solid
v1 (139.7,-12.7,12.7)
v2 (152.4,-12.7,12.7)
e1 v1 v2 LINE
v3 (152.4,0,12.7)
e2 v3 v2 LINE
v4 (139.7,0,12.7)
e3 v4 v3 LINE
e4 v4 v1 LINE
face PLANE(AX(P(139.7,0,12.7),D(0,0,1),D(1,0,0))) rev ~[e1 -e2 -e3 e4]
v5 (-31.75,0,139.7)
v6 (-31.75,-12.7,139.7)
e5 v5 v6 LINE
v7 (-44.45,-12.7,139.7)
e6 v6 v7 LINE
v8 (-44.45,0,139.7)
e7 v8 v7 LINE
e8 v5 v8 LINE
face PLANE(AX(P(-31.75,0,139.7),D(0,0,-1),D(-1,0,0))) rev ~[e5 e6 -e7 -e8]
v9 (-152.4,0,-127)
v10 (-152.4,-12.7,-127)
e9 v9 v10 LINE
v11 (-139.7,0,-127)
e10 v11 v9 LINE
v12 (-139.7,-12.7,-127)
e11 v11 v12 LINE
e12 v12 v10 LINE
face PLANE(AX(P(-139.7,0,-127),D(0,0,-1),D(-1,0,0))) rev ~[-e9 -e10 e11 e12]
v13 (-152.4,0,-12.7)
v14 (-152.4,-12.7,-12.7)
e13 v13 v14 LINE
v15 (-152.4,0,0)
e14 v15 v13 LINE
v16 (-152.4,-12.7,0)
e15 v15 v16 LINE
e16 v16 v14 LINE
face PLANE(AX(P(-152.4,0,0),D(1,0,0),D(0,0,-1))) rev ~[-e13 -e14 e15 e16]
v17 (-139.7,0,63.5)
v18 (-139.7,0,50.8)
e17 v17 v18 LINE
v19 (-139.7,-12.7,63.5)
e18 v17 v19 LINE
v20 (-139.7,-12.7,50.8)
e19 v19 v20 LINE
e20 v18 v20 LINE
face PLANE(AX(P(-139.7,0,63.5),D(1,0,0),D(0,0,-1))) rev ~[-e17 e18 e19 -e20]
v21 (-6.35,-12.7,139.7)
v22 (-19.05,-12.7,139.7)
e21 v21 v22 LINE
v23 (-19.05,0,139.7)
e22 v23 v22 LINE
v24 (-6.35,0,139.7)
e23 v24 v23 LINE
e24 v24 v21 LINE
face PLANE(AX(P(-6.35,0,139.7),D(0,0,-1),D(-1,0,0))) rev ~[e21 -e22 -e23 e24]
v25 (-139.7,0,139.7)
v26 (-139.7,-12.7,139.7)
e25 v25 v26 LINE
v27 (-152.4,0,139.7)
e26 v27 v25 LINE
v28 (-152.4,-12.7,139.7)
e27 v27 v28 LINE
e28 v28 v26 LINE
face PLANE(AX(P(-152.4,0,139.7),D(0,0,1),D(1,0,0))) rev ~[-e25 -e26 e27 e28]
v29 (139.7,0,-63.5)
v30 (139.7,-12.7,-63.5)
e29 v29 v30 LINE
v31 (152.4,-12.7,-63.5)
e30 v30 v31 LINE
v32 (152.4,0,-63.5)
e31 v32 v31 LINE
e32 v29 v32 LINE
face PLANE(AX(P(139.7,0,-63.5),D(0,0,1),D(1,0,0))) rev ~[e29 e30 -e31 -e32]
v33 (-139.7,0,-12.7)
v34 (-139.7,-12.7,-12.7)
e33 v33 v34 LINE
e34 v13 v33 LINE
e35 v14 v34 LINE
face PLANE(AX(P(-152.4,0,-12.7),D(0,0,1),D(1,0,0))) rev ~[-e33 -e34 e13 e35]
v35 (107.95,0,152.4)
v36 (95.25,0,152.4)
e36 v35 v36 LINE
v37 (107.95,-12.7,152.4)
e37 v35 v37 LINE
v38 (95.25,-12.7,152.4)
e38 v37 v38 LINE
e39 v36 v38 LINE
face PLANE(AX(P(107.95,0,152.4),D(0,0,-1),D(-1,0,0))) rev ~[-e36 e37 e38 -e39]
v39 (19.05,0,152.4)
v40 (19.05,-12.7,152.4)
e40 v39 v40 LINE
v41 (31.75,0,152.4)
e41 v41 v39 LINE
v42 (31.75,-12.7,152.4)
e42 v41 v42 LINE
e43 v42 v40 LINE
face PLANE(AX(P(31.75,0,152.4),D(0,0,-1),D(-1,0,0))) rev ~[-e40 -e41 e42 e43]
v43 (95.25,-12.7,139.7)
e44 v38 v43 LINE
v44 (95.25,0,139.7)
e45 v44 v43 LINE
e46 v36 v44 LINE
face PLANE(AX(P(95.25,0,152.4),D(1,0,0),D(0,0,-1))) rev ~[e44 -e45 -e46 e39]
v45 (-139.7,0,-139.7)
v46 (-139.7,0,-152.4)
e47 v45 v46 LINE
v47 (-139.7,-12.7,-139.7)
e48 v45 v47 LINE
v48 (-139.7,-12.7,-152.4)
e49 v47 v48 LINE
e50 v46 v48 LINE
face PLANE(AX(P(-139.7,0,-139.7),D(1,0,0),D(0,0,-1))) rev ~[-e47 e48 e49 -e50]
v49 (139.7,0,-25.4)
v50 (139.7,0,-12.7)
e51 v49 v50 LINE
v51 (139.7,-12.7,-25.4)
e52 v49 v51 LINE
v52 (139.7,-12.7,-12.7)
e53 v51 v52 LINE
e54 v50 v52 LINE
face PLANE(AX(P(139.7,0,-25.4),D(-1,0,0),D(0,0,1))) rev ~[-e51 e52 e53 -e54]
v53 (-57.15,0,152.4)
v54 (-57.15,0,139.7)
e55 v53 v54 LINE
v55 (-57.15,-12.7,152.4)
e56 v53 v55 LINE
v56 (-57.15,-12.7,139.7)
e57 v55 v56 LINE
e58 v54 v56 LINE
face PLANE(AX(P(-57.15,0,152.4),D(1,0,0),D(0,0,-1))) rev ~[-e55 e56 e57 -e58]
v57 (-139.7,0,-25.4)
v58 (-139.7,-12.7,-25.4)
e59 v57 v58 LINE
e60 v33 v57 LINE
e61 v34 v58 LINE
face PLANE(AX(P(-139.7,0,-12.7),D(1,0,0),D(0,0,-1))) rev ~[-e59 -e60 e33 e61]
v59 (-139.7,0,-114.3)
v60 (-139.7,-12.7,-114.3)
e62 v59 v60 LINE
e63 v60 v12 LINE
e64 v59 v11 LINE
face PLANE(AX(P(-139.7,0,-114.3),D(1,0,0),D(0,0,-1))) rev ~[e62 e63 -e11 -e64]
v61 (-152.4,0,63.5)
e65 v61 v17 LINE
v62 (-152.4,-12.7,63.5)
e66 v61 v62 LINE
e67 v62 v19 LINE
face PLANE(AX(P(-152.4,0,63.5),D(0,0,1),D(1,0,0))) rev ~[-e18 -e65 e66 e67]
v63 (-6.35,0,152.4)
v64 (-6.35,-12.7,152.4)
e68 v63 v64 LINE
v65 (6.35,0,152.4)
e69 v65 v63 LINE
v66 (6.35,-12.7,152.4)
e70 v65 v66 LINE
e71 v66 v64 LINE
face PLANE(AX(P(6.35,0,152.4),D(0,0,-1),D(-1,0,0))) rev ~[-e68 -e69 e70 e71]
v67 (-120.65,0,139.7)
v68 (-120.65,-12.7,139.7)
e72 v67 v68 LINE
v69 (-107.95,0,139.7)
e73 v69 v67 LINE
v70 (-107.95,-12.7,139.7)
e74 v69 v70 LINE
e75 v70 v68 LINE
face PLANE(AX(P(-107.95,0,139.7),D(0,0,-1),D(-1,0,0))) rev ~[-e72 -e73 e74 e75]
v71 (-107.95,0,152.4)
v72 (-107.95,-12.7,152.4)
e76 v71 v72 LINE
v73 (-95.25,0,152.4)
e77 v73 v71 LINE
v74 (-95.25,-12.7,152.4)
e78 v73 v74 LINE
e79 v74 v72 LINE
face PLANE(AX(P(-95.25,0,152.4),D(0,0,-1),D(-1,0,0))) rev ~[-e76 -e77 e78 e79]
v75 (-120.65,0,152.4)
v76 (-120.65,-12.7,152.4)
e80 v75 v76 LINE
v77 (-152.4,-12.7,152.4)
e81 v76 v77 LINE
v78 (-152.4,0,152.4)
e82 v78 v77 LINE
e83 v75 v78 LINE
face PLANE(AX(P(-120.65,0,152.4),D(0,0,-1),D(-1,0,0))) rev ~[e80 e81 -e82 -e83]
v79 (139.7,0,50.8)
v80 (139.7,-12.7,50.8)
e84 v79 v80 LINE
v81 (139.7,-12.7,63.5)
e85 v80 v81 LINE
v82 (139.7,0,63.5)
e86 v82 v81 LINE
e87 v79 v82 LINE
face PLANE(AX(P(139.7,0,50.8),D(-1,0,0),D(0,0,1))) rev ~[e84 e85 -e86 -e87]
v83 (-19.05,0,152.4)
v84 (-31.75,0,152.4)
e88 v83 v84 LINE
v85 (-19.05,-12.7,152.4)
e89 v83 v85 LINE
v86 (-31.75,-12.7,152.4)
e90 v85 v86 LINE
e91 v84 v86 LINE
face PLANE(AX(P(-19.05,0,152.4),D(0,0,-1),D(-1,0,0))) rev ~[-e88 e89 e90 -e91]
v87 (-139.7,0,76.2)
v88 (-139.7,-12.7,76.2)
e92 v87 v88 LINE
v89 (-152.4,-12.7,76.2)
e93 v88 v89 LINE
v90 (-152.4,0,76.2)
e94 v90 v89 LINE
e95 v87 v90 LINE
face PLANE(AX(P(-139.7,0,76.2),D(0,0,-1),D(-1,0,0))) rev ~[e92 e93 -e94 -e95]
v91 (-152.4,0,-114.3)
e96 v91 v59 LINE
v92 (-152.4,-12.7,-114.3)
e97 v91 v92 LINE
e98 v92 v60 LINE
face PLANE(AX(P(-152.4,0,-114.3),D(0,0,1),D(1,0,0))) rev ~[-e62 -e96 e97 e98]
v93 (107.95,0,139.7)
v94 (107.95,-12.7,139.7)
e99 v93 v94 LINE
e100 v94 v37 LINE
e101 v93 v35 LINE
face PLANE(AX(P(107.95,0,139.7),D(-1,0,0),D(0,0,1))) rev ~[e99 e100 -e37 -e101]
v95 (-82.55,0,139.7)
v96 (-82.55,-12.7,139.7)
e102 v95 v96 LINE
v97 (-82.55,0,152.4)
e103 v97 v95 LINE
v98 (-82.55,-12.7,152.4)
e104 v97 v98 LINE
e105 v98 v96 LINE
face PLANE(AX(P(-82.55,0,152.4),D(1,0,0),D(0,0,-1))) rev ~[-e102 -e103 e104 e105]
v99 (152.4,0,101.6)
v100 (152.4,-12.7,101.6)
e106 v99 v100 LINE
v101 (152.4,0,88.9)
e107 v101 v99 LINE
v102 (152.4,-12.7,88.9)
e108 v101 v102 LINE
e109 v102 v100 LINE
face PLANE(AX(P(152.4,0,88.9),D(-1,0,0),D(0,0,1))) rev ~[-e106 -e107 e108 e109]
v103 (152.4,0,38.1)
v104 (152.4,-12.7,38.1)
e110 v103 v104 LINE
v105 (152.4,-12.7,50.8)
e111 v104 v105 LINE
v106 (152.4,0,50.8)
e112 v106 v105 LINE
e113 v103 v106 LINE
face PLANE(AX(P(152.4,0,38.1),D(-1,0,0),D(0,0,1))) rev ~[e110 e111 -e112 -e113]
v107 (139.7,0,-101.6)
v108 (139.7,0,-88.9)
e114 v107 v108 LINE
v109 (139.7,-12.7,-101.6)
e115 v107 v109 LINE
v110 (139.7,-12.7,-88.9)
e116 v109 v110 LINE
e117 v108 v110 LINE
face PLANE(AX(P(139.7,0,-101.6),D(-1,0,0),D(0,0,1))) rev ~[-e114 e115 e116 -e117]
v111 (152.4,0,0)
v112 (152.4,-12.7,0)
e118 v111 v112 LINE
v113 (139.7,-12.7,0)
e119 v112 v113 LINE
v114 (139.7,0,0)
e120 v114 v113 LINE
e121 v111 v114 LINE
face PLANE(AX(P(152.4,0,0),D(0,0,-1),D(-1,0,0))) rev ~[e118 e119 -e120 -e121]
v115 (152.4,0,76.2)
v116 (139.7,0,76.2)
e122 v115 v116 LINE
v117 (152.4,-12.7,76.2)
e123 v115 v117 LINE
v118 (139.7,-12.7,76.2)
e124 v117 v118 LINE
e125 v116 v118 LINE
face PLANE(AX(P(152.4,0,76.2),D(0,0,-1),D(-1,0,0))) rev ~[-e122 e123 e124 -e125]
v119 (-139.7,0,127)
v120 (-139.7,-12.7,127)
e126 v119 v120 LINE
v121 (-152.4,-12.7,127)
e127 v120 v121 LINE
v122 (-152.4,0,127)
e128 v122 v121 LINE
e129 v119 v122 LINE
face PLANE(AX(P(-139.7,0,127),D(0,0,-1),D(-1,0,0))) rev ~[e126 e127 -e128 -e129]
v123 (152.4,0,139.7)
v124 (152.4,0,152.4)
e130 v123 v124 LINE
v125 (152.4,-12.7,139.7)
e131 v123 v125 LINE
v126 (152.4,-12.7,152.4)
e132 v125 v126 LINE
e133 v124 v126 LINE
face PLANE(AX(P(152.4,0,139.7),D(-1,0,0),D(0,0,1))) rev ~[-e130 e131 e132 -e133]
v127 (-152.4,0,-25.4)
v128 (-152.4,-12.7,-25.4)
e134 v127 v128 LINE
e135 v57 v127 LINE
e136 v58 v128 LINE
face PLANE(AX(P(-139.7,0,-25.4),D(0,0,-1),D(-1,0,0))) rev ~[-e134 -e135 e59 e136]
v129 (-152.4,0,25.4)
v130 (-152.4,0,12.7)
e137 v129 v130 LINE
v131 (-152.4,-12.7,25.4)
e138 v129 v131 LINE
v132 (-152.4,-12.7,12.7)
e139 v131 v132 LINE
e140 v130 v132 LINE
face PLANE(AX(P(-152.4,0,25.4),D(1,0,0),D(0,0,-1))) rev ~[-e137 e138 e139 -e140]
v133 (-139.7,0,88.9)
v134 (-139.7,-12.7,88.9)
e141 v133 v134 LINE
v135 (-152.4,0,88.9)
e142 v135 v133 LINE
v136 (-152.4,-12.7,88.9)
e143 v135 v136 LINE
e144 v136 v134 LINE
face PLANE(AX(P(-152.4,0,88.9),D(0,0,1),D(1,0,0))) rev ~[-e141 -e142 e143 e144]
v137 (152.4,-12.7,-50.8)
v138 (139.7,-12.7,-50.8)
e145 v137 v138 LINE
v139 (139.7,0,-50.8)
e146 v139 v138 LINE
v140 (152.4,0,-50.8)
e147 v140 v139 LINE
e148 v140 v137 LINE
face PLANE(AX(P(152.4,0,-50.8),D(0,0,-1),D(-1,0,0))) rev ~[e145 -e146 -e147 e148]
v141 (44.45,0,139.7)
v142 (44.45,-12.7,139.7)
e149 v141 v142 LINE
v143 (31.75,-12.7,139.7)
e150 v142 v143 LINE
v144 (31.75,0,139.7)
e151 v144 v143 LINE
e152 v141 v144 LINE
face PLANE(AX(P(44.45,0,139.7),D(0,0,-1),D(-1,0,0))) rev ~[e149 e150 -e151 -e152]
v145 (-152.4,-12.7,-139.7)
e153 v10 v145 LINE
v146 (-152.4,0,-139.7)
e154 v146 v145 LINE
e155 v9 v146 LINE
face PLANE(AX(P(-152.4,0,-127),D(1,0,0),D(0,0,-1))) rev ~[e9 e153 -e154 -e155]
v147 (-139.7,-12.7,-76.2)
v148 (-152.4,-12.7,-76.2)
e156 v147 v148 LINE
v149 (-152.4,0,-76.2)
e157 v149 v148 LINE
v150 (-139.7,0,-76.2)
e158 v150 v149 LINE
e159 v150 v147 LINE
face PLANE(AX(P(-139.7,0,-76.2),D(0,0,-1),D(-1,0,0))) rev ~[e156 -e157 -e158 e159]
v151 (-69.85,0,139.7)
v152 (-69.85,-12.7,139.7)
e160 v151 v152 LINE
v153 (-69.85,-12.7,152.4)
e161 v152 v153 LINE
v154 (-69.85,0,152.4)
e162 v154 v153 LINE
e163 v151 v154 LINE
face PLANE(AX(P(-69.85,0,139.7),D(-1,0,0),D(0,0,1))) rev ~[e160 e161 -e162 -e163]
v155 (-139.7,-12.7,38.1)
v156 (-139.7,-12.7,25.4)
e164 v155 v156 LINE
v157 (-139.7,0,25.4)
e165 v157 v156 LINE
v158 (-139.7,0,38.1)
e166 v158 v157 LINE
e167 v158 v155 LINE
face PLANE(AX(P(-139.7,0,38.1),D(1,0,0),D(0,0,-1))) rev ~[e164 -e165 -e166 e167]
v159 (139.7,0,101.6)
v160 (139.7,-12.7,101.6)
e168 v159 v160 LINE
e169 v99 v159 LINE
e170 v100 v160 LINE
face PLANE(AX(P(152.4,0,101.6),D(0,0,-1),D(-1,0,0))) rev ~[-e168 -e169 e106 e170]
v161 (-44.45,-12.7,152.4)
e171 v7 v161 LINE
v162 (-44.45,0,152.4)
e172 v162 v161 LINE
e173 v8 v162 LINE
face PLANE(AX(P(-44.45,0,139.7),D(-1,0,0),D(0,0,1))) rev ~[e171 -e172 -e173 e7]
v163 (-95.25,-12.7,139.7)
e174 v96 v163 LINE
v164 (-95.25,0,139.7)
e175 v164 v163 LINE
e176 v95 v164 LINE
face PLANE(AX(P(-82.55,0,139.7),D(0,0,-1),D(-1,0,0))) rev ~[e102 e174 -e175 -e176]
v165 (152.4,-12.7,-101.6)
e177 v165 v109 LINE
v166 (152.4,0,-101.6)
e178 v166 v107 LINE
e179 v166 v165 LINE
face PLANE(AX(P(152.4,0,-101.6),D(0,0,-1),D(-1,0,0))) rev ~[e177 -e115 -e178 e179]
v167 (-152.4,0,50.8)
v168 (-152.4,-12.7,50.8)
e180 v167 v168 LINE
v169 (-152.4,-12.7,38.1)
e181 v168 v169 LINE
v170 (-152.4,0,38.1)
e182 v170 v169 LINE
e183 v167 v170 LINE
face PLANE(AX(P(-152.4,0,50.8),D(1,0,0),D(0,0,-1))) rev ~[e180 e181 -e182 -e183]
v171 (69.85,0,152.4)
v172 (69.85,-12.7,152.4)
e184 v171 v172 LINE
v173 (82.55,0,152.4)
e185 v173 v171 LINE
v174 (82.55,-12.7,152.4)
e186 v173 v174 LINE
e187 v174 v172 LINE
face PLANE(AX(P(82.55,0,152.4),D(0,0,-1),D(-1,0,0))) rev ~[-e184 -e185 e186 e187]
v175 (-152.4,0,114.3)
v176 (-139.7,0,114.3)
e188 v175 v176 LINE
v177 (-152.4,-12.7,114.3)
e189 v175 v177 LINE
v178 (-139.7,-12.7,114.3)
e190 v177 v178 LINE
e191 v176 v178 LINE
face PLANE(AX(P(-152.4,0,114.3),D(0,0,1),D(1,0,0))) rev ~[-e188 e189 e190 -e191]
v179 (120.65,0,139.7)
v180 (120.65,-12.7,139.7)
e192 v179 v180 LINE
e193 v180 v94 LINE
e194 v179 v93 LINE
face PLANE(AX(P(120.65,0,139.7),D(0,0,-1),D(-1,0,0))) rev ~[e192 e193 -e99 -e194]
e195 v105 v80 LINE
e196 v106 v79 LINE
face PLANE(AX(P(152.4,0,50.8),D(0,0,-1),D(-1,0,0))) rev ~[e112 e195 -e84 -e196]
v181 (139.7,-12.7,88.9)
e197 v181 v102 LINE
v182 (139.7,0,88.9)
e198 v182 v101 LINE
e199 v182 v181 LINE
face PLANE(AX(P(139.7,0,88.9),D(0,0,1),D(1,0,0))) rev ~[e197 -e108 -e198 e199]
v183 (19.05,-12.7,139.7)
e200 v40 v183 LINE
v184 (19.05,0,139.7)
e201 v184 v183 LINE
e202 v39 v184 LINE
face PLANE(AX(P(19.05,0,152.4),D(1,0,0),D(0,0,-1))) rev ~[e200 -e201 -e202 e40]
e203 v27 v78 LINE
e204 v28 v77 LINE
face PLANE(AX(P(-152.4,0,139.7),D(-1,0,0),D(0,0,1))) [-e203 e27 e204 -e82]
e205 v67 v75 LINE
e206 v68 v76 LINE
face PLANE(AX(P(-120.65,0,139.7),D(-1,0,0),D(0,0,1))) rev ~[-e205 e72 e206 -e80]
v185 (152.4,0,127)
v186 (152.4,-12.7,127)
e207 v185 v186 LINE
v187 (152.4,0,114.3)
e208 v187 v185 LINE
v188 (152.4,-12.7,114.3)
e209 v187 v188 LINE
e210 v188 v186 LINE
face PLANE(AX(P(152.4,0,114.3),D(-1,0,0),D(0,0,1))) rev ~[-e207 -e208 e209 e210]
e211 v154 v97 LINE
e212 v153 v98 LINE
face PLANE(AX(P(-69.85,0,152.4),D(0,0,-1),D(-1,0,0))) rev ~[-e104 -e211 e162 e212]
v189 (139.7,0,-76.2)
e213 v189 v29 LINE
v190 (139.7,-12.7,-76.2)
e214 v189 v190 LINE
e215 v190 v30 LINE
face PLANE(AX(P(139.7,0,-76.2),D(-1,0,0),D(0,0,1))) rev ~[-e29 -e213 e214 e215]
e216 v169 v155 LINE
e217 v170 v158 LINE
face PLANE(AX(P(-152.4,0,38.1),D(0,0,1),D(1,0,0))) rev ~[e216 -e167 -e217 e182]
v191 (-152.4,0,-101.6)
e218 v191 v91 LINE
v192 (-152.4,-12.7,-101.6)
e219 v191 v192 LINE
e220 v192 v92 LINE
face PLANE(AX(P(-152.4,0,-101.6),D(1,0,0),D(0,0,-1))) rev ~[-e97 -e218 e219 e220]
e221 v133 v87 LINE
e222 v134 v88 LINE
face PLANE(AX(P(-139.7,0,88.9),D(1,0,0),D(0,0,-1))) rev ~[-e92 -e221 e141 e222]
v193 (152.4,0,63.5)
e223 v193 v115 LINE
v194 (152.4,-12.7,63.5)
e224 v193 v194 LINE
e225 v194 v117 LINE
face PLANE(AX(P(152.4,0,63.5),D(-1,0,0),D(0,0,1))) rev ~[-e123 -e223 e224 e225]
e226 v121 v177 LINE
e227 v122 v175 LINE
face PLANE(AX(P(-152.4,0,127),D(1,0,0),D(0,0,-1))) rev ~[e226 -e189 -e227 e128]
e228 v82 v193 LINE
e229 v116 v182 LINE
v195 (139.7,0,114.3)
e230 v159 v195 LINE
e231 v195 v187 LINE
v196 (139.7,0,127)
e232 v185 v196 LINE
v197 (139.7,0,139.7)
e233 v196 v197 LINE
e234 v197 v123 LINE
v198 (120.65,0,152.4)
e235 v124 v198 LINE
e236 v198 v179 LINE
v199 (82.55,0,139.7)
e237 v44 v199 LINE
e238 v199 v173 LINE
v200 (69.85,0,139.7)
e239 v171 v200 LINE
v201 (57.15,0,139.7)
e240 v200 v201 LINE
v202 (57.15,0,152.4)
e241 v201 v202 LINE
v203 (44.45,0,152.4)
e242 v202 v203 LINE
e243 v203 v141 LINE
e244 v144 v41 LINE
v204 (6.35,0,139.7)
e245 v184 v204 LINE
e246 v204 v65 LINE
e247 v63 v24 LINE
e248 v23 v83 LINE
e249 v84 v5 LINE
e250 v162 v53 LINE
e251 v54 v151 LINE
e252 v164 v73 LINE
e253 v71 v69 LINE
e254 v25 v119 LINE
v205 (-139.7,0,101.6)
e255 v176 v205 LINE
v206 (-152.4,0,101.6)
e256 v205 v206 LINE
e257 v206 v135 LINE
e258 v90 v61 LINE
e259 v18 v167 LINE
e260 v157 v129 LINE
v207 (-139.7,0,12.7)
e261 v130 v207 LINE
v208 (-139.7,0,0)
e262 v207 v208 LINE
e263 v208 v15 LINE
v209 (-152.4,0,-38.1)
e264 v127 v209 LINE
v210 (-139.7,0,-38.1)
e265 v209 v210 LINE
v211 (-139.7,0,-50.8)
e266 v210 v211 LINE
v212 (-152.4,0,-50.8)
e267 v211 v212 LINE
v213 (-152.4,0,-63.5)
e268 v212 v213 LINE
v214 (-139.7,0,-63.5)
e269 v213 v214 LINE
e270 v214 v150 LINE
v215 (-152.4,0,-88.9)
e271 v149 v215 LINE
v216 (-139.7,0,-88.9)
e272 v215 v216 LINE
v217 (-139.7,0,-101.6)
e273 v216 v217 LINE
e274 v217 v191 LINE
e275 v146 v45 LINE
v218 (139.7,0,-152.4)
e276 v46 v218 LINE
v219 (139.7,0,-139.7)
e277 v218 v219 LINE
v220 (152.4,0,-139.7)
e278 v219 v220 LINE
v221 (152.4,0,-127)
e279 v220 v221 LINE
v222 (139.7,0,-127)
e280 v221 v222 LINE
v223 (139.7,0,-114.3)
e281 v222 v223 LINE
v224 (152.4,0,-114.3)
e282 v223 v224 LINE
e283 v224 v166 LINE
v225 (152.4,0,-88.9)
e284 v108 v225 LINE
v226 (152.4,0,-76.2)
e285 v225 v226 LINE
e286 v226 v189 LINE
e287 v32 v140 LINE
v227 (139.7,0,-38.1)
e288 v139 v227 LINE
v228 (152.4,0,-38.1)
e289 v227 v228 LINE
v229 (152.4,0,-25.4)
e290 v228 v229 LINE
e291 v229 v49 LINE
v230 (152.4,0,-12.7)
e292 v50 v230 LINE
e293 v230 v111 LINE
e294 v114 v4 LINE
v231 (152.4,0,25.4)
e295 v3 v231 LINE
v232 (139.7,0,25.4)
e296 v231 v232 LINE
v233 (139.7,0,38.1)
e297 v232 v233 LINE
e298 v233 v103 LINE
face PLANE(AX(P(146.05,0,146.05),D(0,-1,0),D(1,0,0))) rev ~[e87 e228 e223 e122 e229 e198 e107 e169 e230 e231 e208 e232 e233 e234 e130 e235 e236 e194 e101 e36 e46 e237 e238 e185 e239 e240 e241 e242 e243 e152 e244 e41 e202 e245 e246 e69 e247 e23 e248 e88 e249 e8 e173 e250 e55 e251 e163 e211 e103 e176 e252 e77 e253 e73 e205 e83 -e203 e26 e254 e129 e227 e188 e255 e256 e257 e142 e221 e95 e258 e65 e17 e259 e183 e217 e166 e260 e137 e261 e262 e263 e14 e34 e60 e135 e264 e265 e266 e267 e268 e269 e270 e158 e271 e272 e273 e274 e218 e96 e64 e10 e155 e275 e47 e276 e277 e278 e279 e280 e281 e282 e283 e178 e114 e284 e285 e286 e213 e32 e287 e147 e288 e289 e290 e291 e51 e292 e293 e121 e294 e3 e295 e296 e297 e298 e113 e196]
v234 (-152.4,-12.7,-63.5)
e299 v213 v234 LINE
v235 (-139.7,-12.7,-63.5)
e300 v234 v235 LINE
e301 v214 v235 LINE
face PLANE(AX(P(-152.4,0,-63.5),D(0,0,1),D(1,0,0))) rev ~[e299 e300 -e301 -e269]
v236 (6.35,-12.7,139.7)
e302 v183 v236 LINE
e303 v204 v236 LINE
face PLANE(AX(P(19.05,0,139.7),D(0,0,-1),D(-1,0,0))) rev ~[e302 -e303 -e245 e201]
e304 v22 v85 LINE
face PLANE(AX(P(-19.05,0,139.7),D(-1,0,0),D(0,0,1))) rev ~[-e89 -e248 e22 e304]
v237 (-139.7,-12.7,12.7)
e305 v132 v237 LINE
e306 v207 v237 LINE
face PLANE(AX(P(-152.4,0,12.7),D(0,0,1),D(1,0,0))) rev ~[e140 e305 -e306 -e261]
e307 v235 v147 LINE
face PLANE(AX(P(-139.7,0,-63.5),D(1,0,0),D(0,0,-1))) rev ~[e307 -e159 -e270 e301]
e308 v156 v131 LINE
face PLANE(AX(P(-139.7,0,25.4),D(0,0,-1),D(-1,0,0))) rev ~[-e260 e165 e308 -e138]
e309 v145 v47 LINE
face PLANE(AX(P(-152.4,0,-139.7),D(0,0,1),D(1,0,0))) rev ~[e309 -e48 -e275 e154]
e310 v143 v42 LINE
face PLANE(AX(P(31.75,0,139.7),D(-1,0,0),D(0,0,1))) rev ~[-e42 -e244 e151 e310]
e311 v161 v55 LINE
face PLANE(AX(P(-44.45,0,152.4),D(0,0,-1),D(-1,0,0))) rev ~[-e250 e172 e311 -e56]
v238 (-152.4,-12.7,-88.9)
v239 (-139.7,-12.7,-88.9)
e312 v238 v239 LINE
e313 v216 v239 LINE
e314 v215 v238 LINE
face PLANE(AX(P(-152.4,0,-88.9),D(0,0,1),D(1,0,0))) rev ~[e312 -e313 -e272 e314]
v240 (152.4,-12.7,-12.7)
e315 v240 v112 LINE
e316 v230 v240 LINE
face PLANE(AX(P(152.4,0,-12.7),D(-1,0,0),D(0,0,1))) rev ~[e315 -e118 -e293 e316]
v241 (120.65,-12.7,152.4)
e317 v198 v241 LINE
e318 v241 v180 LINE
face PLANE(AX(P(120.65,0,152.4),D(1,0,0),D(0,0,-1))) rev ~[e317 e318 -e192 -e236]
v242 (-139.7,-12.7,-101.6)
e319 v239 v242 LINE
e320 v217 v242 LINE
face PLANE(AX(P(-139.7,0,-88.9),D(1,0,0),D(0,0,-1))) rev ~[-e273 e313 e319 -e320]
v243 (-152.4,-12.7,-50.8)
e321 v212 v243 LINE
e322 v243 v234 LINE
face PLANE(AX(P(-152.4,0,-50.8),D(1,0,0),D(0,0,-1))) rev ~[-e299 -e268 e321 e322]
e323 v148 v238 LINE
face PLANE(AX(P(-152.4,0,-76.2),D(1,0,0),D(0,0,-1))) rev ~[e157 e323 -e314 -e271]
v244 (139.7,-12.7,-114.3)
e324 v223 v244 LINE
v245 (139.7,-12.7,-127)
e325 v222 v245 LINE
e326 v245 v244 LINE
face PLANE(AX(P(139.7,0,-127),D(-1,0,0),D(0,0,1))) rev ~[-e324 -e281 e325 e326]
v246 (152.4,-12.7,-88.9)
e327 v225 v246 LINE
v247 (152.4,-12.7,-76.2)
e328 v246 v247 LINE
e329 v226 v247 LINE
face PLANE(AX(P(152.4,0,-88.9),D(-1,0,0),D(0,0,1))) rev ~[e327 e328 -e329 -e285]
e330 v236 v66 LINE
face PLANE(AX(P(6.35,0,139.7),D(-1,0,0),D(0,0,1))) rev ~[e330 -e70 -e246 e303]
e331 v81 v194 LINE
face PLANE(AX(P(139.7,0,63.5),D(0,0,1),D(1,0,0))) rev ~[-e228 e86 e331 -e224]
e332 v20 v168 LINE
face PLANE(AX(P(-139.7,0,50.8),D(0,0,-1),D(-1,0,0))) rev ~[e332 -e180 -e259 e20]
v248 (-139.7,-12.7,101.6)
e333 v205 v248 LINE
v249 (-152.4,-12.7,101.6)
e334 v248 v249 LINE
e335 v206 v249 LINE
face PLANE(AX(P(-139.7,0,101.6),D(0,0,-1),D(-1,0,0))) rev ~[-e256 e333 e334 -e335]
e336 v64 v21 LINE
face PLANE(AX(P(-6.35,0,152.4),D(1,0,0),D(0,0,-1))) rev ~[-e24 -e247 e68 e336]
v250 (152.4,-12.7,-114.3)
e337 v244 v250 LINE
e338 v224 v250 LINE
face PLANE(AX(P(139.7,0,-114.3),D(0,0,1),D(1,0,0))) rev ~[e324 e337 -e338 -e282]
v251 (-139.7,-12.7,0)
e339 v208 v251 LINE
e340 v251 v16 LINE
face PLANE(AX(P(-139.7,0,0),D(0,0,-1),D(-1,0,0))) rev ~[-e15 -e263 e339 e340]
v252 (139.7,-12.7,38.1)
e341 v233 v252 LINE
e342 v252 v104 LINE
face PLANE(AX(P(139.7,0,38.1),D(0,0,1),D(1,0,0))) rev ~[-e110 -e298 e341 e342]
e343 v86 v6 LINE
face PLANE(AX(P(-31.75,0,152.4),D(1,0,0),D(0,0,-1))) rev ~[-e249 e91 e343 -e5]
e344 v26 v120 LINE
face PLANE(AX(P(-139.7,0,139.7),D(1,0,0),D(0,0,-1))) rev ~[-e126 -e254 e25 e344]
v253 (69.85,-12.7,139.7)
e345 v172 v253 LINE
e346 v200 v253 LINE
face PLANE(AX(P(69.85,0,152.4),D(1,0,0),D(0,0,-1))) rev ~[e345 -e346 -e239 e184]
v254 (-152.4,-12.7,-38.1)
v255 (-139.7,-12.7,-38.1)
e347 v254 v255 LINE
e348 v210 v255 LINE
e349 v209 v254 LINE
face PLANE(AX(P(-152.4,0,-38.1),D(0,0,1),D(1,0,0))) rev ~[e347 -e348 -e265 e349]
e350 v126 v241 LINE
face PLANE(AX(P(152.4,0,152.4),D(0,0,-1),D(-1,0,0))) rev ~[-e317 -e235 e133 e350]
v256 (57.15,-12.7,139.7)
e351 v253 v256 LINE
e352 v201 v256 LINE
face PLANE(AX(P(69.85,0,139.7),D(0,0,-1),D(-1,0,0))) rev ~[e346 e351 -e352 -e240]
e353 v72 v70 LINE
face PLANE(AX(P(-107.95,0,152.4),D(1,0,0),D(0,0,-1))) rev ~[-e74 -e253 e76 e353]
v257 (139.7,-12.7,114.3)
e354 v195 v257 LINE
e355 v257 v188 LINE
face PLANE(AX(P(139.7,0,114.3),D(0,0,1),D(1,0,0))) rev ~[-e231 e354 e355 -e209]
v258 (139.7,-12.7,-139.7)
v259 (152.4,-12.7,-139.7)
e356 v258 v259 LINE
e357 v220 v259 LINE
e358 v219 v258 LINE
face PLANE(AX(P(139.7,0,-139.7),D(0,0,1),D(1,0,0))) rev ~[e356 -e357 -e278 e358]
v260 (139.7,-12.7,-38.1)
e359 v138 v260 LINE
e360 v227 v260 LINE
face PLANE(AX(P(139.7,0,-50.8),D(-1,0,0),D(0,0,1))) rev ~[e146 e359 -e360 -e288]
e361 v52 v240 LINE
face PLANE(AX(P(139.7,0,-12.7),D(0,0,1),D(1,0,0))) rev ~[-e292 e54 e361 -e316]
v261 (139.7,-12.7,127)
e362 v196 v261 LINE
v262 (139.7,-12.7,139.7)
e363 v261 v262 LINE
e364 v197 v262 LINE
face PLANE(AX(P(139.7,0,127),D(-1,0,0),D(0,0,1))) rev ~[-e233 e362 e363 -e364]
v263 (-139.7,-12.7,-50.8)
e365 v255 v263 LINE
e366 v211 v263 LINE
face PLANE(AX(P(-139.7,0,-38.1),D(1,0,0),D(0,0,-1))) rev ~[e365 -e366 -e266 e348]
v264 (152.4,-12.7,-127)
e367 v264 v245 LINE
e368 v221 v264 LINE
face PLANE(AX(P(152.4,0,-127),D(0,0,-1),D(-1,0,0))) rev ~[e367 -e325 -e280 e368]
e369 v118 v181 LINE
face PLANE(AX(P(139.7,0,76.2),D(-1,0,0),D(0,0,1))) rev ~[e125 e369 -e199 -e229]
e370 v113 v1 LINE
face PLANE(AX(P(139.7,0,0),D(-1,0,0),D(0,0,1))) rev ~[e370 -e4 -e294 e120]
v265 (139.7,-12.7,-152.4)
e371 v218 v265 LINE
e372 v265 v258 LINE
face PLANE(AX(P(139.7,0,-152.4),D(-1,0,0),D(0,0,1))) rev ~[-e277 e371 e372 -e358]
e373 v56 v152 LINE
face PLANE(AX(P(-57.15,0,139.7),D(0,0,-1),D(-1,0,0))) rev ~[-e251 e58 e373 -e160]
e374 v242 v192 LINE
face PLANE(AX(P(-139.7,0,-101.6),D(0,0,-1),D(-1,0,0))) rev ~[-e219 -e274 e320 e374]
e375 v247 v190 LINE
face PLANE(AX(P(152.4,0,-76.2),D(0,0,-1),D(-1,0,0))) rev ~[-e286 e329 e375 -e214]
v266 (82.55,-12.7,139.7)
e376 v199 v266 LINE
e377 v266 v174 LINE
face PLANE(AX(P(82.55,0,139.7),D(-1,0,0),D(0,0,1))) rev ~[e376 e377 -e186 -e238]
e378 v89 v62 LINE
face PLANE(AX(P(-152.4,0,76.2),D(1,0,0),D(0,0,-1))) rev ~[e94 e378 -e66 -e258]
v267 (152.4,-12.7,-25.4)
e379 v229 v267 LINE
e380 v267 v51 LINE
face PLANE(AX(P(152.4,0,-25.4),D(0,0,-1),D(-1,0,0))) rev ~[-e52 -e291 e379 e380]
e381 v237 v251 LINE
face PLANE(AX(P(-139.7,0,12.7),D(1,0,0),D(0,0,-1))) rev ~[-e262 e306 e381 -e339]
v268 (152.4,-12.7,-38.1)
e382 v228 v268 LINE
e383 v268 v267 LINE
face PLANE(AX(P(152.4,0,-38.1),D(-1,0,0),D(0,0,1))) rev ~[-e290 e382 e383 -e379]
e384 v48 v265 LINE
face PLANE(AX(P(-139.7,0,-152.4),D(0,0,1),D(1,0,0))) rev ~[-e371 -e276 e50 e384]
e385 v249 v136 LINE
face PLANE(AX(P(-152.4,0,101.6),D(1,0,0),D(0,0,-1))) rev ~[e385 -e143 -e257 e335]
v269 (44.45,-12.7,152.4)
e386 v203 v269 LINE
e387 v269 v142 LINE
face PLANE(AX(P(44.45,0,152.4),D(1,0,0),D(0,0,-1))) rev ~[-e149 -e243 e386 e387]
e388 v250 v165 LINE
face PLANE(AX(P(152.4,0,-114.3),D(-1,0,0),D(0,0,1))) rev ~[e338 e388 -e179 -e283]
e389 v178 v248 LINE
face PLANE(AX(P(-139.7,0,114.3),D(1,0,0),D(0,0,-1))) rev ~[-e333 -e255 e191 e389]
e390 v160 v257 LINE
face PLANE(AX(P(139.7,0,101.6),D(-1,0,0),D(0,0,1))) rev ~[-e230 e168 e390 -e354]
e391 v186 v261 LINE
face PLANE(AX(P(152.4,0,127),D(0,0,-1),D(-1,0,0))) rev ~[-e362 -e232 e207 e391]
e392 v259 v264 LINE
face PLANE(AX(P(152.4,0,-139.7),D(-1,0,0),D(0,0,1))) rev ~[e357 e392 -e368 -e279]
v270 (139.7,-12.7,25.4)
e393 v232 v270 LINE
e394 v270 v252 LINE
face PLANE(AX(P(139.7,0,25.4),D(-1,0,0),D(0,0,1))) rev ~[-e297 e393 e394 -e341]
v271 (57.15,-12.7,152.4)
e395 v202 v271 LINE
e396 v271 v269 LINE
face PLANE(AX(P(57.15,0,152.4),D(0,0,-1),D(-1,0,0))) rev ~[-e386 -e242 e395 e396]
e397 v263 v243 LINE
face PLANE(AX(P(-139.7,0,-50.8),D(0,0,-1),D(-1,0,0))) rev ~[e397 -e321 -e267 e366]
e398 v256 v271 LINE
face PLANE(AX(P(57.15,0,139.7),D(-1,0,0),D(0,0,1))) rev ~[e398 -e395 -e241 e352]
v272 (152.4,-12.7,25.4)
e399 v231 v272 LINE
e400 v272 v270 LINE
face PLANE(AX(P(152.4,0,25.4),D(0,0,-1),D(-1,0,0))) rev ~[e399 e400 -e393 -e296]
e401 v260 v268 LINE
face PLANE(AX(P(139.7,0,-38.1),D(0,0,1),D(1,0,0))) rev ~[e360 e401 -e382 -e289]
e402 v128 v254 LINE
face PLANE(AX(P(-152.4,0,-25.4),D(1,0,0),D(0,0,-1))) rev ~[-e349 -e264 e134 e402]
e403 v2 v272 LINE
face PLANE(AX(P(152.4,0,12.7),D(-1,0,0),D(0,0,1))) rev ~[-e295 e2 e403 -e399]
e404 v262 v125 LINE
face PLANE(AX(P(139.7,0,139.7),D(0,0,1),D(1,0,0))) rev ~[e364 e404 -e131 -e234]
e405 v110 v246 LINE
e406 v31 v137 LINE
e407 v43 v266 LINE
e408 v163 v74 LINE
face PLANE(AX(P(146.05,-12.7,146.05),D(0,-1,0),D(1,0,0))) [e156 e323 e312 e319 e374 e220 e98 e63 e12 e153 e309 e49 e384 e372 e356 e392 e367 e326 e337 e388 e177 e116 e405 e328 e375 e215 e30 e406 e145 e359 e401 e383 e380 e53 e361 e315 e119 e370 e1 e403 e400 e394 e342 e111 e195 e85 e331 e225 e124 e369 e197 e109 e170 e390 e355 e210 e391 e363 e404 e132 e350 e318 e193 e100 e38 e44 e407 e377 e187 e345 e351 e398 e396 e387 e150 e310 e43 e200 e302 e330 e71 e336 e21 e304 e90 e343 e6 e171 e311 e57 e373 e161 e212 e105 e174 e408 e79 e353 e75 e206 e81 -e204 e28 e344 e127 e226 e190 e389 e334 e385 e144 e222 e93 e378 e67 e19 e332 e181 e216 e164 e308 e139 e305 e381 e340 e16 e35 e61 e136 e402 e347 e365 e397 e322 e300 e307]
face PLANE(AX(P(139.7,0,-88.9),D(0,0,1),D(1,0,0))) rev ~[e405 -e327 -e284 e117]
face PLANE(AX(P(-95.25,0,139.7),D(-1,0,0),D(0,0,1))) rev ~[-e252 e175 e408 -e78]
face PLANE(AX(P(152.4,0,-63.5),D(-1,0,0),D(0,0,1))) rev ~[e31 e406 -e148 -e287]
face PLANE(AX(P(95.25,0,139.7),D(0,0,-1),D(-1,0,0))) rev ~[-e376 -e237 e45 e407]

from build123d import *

# Parameters (mm, degrees)
F0_W     = 12.7
F0_H     = 12.7
F1_DEPTH = 12.7


with BuildPart() as f1:
    # F0 (on Front) → F1 (new body)
    with BuildSketch(Plane.XZ):
        with Locations((146.05, 146.05)):
            Rectangle(F0_W, F0_H)
        Polygon((139.7, 139.7), (139.7, 152.4), (120.65, 152.4), (120.65, 139.7), (107.95, 139.7), (107.95, 152.4), (95.25, 152.4), (95.25, 139.7), (82.55, 139.7), (82.55, 152.4), (69.85, 152.4), (69.85, 139.7), (57.15, 139.7), (57.15, 152.4), (44.45, 152.4), (44.45, 139.7), (31.75, 139.7), (31.75, 152.4), (19.05, 152.4), (19.05, 139.7), (6.35, 139.7), (6.35, 152.4), (-6.35, 152.4), (-6.35, 139.7), (-19.05, 139.7), (-19.05, 152.4), (-31.75, 152.4), (-31.75, 139.7), (-44.45, 139.7), (-44.45, 152.4), (-57.15, 152.4), (-57.15, 139.7), (-69.85, 139.7), (-69.85, 152.4), (-82.55, 152.4), (-82.55, 139.7), (-95.25, 139.7), (-95.25, 152.4), (-107.95, 152.4), (-107.95, 139.7), (-120.65, 139.7), (-120.65, 152.4), (-139.7, 152.4), (-139.7, 139.7), (-139.7, 127), (-152.4, 127), (-152.4, 114.3), (-139.7, 114.3), (-139.7, 101.6), (-152.4, 101.6), (-152.4, 88.9), (-139.7, 88.9), (-139.7, 76.2), (-152.4, 76.2), (-152.4, 63.5), (-139.7, 63.5), (-139.7, 50.8), (-152.4, 50.8), (-152.4, 38.1), (-139.7, 38.1), (-139.7, 25.4), (-152.4, 25.4), (-152.4, 12.7), (-139.7, 12.7), (-139.7, 0), (-152.4, 0), (-152.4, -12.7), (-139.7, -12.7), (-139.7, -25.4), (-152.4, -25.4), (-152.4, -38.1), (-139.7, -38.1), (-139.7, -50.8), (-152.4, -50.8), (-152.4, -63.5), (-139.7, -63.5), (-139.7, -76.2), (-152.4, -76.2), (-152.4, -88.9), (-139.7, -88.9), (-139.7, -101.6), (-152.4, -101.6), (-152.4, -114.3), (-139.7, -114.3), (-139.7, -127), (-152.4, -127), (-152.4, -139.7), (-139.7, -139.7), (-139.7, -152.4), (139.7, -152.4), (139.7, -139.7), (152.4, -139.7), (152.4, -127), (139.7, -127), (139.7, -114.3), (152.4, -114.3), (152.4, -101.6), (139.7, -101.6), (139.7, -88.9), (152.4, -88.9), (152.4, -76.2), (139.7, -76.2), (139.7, -63.5), (152.4, -63.5), (152.4, -50.8), (139.7, -50.8), (139.7, -38.1), (152.4, -38.1), (152.4, -25.4), (139.7, -25.4), (139.7, -12.7), (152.4, -12.7), (152.4, 0), (139.7, 0), (139.7, 12.7), (152.4, 12.7), (152.4, 25.4), (139.7, 25.4), (139.7, 38.1), (152.4, 38.1), (152.4, 50.8), (139.7, 50.8), (139.7, 63.5), (152.4, 63.5), (152.4, 76.2), (139.7, 76.2), (139.7, 88.9), (152.4, 88.9), (152.4, 101.6), (139.7, 101.6), (139.7, 114.3), (152.4, 114.3), (152.4, 127), (139.7, 127), align=None)
        with Locations((-146.05, 146.05)):
            Rectangle(F0_W, F0_H)
    extrude(amount=F1_DEPTH)


solid = f1.part
